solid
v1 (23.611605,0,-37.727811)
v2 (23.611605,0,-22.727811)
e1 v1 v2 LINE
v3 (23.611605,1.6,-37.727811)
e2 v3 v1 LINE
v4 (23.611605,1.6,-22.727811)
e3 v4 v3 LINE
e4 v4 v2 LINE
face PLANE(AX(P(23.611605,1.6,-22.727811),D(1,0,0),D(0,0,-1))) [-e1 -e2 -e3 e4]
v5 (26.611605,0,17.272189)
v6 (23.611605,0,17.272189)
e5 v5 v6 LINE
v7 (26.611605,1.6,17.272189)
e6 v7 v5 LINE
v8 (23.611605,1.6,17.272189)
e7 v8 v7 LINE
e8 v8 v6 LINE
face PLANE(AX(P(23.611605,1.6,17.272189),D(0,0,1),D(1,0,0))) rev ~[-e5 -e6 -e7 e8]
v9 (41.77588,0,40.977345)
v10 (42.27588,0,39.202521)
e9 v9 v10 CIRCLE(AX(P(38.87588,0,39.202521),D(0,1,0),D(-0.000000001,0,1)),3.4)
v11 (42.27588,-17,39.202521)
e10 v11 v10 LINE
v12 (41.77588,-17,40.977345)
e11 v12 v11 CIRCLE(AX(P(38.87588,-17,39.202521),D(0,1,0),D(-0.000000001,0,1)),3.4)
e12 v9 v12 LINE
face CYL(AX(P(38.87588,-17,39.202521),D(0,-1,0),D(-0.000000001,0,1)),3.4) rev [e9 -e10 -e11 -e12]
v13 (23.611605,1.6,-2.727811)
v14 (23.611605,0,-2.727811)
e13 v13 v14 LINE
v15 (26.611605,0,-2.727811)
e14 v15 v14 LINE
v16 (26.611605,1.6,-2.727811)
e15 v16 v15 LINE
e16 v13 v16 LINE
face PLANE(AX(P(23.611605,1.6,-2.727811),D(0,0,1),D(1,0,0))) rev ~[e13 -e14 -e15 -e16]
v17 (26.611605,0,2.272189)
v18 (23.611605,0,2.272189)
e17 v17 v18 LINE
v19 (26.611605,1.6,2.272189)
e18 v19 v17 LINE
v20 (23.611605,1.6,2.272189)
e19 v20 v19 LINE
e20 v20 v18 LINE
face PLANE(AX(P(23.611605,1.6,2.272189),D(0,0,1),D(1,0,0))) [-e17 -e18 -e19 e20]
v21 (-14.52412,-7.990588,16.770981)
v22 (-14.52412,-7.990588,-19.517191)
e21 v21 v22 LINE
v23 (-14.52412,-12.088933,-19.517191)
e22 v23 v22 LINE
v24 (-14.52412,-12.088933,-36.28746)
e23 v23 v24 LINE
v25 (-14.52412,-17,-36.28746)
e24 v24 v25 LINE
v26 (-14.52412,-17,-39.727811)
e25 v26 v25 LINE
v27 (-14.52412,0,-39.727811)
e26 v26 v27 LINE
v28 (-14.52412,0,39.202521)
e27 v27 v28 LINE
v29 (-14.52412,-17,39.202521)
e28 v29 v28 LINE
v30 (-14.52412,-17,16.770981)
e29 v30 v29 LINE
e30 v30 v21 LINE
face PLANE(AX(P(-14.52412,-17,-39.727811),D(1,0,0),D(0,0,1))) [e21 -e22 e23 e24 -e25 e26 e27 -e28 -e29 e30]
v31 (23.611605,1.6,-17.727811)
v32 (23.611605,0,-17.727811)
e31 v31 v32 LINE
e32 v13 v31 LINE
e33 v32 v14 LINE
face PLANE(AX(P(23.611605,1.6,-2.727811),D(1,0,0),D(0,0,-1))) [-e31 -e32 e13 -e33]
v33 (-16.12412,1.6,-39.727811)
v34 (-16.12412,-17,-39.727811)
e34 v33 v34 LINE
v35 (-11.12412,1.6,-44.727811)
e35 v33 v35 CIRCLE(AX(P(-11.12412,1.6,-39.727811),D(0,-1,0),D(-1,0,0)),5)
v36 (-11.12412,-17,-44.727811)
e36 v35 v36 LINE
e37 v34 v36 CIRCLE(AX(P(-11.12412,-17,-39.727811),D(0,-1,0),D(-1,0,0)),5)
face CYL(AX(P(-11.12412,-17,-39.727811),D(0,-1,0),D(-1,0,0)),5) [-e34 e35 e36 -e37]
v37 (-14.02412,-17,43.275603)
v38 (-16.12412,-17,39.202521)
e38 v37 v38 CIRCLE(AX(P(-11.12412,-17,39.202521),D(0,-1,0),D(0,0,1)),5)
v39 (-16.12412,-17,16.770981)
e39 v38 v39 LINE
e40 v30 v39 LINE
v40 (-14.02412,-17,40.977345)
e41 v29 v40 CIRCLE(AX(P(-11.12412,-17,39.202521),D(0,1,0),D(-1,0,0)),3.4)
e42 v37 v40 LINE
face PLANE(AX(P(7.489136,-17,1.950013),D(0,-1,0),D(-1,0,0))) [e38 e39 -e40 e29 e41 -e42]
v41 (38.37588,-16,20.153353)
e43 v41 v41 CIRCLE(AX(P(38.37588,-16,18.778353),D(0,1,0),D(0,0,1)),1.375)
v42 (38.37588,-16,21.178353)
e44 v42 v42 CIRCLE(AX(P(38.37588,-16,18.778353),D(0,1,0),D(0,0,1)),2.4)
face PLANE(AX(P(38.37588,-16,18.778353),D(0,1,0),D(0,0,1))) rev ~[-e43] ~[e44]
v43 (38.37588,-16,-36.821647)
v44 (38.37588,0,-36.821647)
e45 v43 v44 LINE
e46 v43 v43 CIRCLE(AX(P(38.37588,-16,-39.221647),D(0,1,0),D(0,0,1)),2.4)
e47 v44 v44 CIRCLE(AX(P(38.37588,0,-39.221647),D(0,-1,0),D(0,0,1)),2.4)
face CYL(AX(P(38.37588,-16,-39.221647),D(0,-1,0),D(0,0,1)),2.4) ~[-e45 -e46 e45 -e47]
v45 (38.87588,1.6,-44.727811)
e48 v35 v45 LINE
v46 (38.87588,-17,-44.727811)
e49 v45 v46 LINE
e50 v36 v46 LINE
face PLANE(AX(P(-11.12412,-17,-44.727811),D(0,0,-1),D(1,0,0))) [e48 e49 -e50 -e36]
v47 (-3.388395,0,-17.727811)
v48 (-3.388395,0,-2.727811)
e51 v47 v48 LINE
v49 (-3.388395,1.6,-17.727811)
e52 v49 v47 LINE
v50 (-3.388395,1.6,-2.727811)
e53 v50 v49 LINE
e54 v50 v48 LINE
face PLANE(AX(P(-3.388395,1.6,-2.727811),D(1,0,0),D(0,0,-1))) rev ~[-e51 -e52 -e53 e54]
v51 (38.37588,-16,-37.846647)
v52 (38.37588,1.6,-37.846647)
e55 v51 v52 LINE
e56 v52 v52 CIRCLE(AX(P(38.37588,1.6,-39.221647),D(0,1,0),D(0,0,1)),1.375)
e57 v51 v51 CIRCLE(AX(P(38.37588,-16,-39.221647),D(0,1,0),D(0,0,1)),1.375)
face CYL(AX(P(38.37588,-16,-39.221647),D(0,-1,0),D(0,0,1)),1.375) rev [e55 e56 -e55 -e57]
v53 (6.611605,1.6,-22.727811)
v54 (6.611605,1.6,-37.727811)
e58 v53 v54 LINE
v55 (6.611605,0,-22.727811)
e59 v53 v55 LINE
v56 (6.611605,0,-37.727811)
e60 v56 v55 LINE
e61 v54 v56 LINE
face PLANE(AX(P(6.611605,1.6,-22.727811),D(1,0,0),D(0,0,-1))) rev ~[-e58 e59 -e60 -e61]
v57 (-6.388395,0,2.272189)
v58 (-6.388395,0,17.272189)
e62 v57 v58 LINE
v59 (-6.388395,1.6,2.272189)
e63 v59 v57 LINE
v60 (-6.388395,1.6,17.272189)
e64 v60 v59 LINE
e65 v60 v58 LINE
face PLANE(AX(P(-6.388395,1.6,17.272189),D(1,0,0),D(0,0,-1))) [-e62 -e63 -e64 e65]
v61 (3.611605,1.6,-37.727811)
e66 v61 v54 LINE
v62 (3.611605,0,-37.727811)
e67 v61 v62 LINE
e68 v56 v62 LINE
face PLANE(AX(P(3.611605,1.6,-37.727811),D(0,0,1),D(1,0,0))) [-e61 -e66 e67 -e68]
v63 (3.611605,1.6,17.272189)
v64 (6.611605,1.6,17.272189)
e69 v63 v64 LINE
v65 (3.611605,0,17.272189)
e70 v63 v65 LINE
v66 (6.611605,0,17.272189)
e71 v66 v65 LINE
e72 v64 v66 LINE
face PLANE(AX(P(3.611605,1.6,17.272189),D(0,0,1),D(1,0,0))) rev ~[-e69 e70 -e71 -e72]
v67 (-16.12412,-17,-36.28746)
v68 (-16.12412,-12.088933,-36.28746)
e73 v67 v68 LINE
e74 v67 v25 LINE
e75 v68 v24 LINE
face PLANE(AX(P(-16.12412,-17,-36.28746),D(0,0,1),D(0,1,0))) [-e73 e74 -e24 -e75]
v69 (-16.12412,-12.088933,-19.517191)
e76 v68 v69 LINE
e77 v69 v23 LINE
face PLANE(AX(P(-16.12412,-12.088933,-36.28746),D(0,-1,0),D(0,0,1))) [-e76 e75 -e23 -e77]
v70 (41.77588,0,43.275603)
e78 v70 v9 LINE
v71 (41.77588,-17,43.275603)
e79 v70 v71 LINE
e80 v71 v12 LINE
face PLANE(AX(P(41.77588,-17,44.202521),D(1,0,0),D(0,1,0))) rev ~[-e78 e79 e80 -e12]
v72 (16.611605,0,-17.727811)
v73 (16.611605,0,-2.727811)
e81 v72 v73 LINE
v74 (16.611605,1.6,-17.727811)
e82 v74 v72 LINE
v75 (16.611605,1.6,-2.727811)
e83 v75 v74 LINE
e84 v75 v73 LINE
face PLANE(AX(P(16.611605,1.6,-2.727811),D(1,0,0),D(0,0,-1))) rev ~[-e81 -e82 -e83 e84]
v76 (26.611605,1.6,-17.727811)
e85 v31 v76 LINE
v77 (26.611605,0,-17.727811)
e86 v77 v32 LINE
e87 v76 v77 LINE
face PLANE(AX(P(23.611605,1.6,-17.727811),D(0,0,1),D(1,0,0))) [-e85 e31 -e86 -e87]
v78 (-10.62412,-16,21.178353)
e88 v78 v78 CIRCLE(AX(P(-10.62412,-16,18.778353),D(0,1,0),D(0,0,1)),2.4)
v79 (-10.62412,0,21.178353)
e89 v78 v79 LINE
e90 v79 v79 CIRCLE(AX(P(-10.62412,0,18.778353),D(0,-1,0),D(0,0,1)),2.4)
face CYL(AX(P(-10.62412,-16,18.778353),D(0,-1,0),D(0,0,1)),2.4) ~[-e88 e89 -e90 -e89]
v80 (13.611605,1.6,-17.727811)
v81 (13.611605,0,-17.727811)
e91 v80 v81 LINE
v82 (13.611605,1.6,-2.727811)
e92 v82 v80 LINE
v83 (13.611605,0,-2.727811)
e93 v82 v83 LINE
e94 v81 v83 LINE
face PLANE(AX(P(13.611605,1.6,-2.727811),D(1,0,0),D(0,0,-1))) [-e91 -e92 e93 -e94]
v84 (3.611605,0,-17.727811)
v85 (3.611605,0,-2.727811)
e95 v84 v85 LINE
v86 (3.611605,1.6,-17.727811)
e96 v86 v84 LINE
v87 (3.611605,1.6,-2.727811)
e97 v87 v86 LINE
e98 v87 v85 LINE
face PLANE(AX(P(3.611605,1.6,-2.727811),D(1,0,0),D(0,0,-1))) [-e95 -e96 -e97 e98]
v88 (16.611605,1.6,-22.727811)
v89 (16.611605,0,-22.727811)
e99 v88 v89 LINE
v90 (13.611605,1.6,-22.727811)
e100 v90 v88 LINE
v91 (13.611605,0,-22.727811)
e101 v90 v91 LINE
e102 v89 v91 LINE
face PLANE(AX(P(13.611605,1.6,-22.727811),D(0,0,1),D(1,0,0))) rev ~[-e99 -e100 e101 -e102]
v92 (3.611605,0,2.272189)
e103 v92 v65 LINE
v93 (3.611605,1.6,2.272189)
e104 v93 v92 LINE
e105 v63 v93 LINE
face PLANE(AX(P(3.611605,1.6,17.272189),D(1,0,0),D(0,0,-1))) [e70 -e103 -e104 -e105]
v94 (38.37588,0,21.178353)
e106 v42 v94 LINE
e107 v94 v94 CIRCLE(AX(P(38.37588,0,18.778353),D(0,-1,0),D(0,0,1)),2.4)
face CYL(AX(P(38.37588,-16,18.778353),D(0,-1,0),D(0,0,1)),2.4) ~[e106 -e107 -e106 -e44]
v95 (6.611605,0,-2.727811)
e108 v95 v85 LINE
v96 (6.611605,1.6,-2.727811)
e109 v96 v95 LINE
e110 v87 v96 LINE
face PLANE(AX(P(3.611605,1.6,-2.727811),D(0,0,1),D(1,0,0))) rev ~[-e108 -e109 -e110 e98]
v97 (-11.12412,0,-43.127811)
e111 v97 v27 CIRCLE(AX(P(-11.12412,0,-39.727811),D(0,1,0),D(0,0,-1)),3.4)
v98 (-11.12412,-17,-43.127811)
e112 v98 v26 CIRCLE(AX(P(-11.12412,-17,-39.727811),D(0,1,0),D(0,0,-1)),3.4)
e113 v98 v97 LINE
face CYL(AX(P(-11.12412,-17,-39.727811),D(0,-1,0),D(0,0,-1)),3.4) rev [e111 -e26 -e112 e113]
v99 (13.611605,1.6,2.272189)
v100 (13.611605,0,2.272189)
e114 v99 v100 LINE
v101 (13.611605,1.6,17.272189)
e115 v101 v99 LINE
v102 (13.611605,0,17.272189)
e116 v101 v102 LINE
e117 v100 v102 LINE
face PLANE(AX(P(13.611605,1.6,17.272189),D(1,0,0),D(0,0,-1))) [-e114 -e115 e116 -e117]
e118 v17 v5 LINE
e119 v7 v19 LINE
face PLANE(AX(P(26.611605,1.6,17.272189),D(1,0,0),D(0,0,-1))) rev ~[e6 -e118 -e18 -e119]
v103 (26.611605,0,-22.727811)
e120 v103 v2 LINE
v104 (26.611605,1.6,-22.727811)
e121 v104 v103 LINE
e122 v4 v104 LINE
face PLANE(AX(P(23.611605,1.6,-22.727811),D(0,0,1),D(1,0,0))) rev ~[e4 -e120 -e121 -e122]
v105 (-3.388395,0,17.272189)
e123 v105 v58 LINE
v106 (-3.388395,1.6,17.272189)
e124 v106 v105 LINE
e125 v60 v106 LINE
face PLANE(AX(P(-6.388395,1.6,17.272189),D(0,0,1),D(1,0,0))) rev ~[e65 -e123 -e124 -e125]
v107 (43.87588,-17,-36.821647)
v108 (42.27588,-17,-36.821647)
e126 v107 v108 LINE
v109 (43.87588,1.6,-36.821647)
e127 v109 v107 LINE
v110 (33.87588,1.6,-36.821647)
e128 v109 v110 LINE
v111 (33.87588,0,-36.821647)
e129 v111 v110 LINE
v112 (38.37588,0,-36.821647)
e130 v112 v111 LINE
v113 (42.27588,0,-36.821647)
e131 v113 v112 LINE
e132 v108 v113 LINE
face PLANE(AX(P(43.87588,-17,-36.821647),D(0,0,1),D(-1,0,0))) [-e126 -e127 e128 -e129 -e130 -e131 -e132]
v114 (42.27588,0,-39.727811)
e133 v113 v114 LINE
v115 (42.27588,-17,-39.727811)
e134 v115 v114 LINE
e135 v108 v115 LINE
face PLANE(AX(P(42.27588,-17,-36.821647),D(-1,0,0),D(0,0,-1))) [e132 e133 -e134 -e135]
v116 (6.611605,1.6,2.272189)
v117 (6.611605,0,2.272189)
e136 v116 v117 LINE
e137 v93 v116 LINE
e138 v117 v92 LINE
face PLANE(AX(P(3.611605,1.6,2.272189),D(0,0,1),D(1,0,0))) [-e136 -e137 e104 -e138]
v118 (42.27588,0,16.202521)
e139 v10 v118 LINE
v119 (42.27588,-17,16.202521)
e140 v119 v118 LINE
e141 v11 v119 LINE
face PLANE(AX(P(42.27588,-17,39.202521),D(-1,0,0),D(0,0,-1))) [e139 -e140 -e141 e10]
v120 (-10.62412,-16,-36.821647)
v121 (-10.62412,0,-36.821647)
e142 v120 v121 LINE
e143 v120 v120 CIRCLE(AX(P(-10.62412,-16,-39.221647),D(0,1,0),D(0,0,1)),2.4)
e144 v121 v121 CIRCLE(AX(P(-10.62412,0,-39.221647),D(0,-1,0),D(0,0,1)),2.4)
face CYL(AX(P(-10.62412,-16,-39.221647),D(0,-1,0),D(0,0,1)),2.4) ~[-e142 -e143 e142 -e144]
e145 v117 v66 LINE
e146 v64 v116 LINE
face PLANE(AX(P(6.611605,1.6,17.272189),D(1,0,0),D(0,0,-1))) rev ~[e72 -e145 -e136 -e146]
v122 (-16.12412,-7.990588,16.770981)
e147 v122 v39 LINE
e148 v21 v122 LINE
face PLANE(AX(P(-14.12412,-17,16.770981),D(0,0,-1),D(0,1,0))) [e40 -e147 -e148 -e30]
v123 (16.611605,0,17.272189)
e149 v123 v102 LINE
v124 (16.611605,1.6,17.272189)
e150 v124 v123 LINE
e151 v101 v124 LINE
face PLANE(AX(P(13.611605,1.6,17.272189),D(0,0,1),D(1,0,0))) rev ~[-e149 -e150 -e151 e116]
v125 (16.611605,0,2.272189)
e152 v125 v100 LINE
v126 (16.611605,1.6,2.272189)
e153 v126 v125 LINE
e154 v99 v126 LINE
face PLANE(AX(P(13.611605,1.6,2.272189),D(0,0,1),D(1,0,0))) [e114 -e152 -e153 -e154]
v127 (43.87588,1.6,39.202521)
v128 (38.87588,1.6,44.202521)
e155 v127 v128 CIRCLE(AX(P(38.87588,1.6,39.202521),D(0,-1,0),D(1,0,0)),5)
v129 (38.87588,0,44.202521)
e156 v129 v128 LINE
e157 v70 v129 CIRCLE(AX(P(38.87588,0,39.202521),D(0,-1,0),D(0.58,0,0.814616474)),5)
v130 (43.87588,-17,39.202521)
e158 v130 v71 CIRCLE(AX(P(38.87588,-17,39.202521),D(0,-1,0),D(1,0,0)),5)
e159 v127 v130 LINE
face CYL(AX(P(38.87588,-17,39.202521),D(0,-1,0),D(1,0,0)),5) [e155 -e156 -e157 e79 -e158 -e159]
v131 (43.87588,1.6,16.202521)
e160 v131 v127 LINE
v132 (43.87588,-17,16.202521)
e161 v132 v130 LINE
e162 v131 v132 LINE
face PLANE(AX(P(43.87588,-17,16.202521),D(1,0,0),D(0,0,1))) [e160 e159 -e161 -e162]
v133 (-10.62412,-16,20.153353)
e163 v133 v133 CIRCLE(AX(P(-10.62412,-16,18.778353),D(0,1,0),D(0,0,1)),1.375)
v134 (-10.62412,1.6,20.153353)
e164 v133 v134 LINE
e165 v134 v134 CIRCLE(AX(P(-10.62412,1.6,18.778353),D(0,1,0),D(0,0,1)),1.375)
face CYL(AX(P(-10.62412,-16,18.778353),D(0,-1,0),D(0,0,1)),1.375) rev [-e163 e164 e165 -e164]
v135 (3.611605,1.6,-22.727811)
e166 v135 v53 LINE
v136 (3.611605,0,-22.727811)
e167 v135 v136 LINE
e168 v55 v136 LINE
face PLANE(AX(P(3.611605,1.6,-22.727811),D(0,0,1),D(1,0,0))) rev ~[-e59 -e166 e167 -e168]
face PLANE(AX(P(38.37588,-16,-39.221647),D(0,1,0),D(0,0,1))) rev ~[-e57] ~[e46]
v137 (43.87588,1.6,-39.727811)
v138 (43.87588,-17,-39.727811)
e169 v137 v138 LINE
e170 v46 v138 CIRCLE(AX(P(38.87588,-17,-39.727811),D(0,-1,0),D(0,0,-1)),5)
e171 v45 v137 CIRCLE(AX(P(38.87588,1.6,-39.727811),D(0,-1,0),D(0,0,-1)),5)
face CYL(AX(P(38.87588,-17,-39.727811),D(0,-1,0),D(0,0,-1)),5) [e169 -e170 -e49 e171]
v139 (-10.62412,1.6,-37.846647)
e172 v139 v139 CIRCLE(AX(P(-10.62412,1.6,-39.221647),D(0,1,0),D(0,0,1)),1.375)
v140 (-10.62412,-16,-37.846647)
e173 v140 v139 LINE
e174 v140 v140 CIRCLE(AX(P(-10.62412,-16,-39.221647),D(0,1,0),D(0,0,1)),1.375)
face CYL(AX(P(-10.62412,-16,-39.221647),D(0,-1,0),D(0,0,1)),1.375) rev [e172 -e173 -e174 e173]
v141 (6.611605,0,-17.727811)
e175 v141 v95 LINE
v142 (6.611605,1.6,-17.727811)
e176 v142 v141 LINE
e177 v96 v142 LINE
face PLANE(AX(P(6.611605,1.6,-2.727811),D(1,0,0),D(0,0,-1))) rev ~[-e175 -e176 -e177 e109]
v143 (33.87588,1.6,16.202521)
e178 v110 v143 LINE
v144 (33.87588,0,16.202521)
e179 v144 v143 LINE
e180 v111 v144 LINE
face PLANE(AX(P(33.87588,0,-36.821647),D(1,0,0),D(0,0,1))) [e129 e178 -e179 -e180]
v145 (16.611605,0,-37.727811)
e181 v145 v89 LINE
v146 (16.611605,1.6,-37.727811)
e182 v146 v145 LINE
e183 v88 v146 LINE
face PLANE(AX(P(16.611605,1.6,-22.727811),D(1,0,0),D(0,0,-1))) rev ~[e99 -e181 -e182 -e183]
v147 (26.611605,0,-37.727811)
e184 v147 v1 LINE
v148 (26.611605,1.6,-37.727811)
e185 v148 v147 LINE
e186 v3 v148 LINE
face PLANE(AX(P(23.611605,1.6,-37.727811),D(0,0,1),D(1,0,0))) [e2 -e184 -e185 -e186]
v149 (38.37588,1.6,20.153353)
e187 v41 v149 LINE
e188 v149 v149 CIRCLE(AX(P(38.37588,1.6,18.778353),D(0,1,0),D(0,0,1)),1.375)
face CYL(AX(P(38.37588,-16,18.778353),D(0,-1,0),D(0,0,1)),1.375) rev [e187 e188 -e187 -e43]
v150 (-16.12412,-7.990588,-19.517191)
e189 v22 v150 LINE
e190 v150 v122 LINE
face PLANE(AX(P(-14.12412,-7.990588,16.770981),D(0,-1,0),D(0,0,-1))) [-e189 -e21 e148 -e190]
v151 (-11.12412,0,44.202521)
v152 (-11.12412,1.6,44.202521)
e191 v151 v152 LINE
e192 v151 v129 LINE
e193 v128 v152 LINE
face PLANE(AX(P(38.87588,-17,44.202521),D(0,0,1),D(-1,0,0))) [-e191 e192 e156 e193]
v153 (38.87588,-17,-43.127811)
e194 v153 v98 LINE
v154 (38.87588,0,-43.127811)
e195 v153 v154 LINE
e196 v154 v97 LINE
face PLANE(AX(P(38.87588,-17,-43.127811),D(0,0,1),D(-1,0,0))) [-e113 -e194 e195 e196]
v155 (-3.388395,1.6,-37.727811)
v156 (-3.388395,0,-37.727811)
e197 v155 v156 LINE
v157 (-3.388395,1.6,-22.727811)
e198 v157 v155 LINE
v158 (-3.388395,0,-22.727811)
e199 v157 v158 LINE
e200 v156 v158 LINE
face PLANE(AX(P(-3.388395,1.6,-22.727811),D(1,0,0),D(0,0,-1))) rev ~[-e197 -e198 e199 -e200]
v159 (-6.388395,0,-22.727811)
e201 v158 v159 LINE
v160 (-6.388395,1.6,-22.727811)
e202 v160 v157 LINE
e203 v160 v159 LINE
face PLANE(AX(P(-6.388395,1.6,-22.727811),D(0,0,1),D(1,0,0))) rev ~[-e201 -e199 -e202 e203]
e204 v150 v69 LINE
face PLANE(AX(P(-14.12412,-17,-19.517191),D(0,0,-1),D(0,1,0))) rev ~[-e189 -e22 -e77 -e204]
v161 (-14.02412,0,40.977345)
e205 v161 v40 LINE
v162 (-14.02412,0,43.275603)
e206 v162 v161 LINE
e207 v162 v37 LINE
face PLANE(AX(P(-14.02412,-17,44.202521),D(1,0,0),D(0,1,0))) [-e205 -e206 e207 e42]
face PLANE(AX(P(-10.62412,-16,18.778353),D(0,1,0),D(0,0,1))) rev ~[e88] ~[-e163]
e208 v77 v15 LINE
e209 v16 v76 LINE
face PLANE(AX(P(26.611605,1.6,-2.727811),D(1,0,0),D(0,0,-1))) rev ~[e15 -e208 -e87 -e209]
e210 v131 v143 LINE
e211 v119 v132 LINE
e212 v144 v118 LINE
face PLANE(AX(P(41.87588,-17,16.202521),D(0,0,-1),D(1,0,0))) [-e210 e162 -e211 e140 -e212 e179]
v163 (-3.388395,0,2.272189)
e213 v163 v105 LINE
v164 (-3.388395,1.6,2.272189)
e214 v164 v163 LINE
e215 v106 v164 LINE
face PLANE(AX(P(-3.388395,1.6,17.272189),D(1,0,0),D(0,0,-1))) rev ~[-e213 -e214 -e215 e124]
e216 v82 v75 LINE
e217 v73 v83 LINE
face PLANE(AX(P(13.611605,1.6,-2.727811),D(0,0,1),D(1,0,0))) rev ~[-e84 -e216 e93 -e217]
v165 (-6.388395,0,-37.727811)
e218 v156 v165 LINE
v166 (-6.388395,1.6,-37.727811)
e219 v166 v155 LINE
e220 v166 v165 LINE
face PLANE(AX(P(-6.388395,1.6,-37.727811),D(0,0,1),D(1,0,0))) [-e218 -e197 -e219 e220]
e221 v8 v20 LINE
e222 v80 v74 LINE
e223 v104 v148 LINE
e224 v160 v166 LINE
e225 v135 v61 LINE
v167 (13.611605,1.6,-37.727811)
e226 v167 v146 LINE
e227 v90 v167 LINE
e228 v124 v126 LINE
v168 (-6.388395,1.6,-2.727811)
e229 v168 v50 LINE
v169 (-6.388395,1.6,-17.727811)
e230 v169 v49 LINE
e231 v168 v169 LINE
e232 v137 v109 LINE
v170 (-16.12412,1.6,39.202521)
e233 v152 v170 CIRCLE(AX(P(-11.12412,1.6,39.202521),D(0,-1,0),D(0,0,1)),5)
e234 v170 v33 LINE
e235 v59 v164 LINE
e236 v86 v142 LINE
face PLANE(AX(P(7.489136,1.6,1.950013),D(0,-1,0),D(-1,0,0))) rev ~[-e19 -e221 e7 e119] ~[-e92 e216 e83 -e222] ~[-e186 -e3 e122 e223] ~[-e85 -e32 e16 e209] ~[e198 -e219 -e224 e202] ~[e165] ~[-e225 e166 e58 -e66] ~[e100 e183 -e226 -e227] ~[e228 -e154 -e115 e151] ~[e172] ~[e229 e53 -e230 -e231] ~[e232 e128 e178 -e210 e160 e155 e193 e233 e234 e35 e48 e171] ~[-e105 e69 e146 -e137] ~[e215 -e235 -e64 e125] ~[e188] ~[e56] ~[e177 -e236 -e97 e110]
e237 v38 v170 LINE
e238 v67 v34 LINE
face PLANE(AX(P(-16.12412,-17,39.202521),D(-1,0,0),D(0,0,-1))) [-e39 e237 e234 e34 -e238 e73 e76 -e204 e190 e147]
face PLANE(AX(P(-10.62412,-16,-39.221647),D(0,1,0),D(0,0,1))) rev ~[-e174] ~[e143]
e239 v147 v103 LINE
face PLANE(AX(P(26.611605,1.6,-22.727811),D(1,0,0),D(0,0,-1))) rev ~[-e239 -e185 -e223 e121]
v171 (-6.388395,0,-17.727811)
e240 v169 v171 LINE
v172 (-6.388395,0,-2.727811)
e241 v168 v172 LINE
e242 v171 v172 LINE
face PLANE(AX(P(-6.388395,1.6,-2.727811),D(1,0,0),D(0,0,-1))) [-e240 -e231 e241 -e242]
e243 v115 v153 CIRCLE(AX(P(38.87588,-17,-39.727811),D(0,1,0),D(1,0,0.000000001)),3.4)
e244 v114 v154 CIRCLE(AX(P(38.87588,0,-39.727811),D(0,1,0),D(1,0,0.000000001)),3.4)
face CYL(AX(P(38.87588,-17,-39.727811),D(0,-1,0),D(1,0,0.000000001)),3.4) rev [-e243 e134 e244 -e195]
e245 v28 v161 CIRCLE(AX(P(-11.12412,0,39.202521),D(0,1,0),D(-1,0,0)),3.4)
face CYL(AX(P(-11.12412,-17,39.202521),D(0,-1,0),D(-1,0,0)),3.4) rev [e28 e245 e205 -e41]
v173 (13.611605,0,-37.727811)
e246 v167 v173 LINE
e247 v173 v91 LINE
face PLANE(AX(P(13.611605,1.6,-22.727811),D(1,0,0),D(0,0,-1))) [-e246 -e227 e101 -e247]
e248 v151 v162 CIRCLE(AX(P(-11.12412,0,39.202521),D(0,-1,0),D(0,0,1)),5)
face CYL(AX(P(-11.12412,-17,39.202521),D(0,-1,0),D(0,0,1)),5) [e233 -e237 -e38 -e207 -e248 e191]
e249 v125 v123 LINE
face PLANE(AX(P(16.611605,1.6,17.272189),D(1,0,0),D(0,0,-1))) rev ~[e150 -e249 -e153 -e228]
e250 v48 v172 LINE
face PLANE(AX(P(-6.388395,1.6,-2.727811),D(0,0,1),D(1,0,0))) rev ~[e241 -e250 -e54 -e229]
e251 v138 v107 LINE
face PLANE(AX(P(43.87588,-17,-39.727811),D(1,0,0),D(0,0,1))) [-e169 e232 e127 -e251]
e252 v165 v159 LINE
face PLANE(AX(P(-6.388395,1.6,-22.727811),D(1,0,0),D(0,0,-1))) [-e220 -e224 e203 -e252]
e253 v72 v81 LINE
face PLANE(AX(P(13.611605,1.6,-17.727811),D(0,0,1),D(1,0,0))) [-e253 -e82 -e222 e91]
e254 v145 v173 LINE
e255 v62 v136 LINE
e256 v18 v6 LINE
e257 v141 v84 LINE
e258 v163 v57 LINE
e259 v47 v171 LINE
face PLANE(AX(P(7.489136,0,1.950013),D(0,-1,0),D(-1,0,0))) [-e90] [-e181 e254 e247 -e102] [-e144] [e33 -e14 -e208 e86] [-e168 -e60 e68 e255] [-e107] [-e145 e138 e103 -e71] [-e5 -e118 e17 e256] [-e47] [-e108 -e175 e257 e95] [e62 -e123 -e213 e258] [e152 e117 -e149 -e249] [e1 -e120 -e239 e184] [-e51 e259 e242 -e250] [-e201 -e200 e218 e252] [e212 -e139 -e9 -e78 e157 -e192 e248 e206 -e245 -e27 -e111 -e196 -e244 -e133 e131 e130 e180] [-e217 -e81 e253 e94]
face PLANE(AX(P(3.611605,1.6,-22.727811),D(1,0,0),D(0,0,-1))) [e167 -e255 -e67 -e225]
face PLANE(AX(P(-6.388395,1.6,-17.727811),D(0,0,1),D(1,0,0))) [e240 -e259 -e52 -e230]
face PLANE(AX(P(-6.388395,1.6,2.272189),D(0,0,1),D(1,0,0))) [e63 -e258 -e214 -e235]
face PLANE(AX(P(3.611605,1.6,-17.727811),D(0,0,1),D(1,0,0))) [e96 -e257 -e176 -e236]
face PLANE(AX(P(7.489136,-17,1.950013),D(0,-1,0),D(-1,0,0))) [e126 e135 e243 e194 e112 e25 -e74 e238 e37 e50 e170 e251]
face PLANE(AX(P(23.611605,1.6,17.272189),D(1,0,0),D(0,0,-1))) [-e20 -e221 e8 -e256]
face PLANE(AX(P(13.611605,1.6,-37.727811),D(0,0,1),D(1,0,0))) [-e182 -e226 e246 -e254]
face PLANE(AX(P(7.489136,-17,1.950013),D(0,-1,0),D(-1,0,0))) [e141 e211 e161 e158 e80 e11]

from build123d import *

# Parameters (mm, degrees)
SKETCH1_R           = 1.375
BOSS_EXTRUDE1_DEPTH = 1.6
BOSS_EXTRUDE2_START = -17
BOSS_EXTRUDE2_DEPTH = 17
BOSS_EXTRUDE3_START = -17.6
SKETCH2_R           = 2.4
SKETCH2_R_2         = 1.375
BOSS_EXTRUDE3_DEPTH = 17.6
SKETCH3_W           = 36.288172123
SKETCH3_H           = 9.00941151
CUT_EXTRUDE1_DEPTH  = 10
SKETCH5_W           = 16.770268593
SKETCH5_H           = 4.911067329
CUT_EXTRUDE2_DEPTH  = 10
SKETCH7_W           = 55
SKETCH7_H           = 17
CUT_EXTRUDE3_DEPTH  = 10
SKETCH9_W           = 3
SKETCH9_H           = 15
CUT_EXTRUDE4_DEPTH  = 10
MOVE_FACE1_BY       = 0.4
MOVE_FACE1_2_BY     = 0.4
MOVE_FACE1_3_BY     = 0.4
MOVE_FACE1_4_BY     = 0.4
MOVE_FACE1_5_BY     = 0.4
MOVE_FACE1_6_BY     = 0.4
MOVE_FACE1_7_BY     = 0.4
MOVE_FACE1_8_BY     = 0.4
MOVE_FACE1_9_BY     = 0.4
MOVE_FACE1_10_BY    = 0.4


with BuildPart() as part:
    # Sketch1 → Boss-Extrude1 (new body)
    # profile 1 of 2: a face of its own
    with BuildSketch(Plane(origin=(0, 0, 0), x_dir=(1, 0, 0), z_dir=(0, 1, 0))):
        with BuildLine():
            Line((-11.124120265, 42.72781091), (38.875879735, 42.72781091))
            ThreePointArc((38.875879735, 42.72781091), (40.997200079, 41.849131254), (41.875879735, 39.72781091))
            Line((41.875879735, 39.72781091), (41.875879735, 36.821646567))
            Line((41.875879735, 36.821646567), (33.875879735, 36.821646567))
            Line((33.875879735, 36.821646567), (33.875879735, -16.202520779))
            Line((33.875879735, -16.202520779), (41.875879735, -16.202520779))
            Line((41.875879735, -16.202520779), (41.875879735, -39.202520779))
            ThreePointArc((41.875879735, -39.202520779), (40.997200079, -41.323841123), (38.875879735, -42.202520779))
            Line((38.875879735, -42.202520779), (-11.124120265, -42.202520779))
            ThreePointArc((-11.124120265, -42.202520779), (-13.245440608, -41.323841123), (-14.124120265, -39.202520779))
            Line((-14.124120265, -39.202520779), (-14.124120265, 39.72781091))
            ThreePointArc((-14.124120265, 39.72781091), (-13.245440608, 41.849131254), (-11.124120265, 42.72781091))
        make_face()
        with Locations(Location((-10.624120265, -18.778353433, 0), (0, 0, 270))):
            Circle(SKETCH1_R, mode=Mode.SUBTRACT)
        with Locations(Location((-10.624120265, 39.221646567, 0), (0, 0, 270))):
            Circle(SKETCH1_R, mode=Mode.SUBTRACT)
        with Locations(Location((38.375879735, 39.221646567, 0), (0, 0, 270))):
            Circle(SKETCH1_R, mode=Mode.SUBTRACT)
        with Locations(Location((38.375879735, -18.778353433, 0), (0, 0, 270))):
            Circle(SKETCH1_R, mode=Mode.SUBTRACT)
    # profile 2 of 2: a face of its own
    with BuildSketch(Plane(origin=(0, 0, 0), x_dir=(1, 0, 0), z_dir=(0, 1, 0))):
        with BuildLine():
            Line((-16.124120265, -39.202520779), (-16.124120265, 39.72781091))
            ThreePointArc((-16.124120265, 39.72781091), (-14.65965417, 43.263344816), (-11.124120265, 44.72781091))
            Line((-11.124120265, 44.72781091), (38.875879735, 44.72781091))
            ThreePointArc((38.875879735, 44.72781091), (42.411413641, 43.263344816), (43.875879735, 39.72781091))
            Line((43.875879735, 39.72781091), (43.875879735, 36.821646567))
            Line((43.875879735, 36.821646567), (41.875879735, 36.821646567))
            Line((41.875879735, 36.821646567), (41.875879735, 39.72781091))
            ThreePointArc((41.875879735, 39.72781091), (40.997200079, 41.849131254), (38.875879735, 42.72781091))
            Line((38.875879735, 42.72781091), (-11.124120265, 42.72781091))
            ThreePointArc((-11.124120265, 42.72781091), (-13.245440608, 41.849131254), (-14.124120265, 39.72781091))
            Line((-14.124120265, 39.72781091), (-14.124120265, -39.202520779))
            ThreePointArc((-14.124120265, -39.202520779), (-13.245440608, -41.323841123), (-11.124120265, -42.202520779))
            Line((-11.124120265, -42.202520779), (38.875879735, -42.202520779))
            ThreePointArc((38.875879735, -42.202520779), (40.997200079, -41.323841123), (41.875879735, -39.202520779))
            Line((41.875879735, -39.202520779), (41.875879735, -16.202520779))
            Line((41.875879735, -16.202520779), (43.875879735, -16.202520779))
            Line((43.875879735, -16.202520779), (43.875879735, -39.202520779))
            ThreePointArc((43.875879735, -39.202520779), (42.411413641, -42.738054685), (38.875879735, -44.202520779))
            Line((38.875879735, -44.202520779), (-11.124120265, -44.202520779))
            ThreePointArc((-11.124120265, -44.202520779), (-14.65965417, -42.738054685), (-16.124120265, -39.202520779))
        make_face()
    extrude(amount=BOSS_EXTRUDE1_DEPTH)

    # Sketch1<3> → Boss-Extrude2 (add)
    with BuildSketch(Plane(origin=(0, 0, 0), x_dir=(1, 0, 0), z_dir=(0, 1, 0)).offset(BOSS_EXTRUDE2_START)):
        with BuildLine():
            Line((-16.124120265, -39.202520779), (-16.124120265, 39.72781091))
            ThreePointArc((-16.124120265, 39.72781091), (-14.65965417, 43.263344816), (-11.124120265, 44.72781091))
            Line((-11.124120265, 44.72781091), (38.875879735, 44.72781091))
            ThreePointArc((38.875879735, 44.72781091), (42.411413641, 43.263344816), (43.875879735, 39.72781091))
            Line((43.875879735, 39.72781091), (43.875879735, 36.821646567))
            Line((43.875879735, 36.821646567), (41.875879735, 36.821646567))
            Line((41.875879735, 36.821646567), (41.875879735, 39.72781091))
            ThreePointArc((41.875879735, 39.72781091), (40.997200079, 41.849131254), (38.875879735, 42.72781091))
            Line((38.875879735, 42.72781091), (-11.124120265, 42.72781091))
            ThreePointArc((-11.124120265, 42.72781091), (-13.245440608, 41.849131254), (-14.124120265, 39.72781091))
            Line((-14.124120265, 39.72781091), (-14.124120265, -39.202520779))
            ThreePointArc((-14.124120265, -39.202520779), (-13.245440608, -41.323841123), (-11.124120265, -42.202520779))
            Line((-11.124120265, -42.202520779), (38.875879735, -42.202520779))
            ThreePointArc((38.875879735, -42.202520779), (40.997200079, -41.323841123), (41.875879735, -39.202520779))
            Line((41.875879735, -39.202520779), (41.875879735, -16.202520779))
            Line((41.875879735, -16.202520779), (43.875879735, -16.202520779))
            Line((43.875879735, -16.202520779), (43.875879735, -39.202520779))
            ThreePointArc((43.875879735, -39.202520779), (42.411413641, -42.738054685), (38.875879735, -44.202520779))
            Line((38.875879735, -44.202520779), (-11.124120265, -44.202520779))
            ThreePointArc((-11.124120265, -44.202520779), (-14.65965417, -42.738054685), (-16.124120265, -39.202520779))
        make_face()
    extrude(amount=BOSS_EXTRUDE2_DEPTH)

    # Sketch2 → Boss-Extrude3 (add)
    # profile 1 of 4: a face of its own
    with BuildSketch(Plane(origin=(0, 1.6, 0), x_dir=(1, 0, 0), z_dir=(0, 1, 0)).offset(BOSS_EXTRUDE3_START)):
        with Locations(Location((38.375879735, 39.221646567, 0), (0, 0, 270))):
            Circle(SKETCH2_R)
        with Locations(Location((38.375879735, 39.221646567, 0), (0, 0, 270))):
            Circle(SKETCH2_R_2, mode=Mode.SUBTRACT)
    # profile 2 of 4: a face of its own
    with BuildSketch(Plane(origin=(0, 1.6, 0), x_dir=(1, 0, 0), z_dir=(0, 1, 0)).offset(BOSS_EXTRUDE3_START)):
        with Locations(Location((38.375879735, -18.778353433, 0), (0, 0, 270))):
            Circle(SKETCH2_R)
        with Locations(Location((38.375879735, -18.778353433, 0), (0, 0, 270))):
            Circle(SKETCH2_R_2, mode=Mode.SUBTRACT)
    # profile 3 of 4: a face of its own
    with BuildSketch(Plane(origin=(0, 1.6, 0), x_dir=(1, 0, 0), z_dir=(0, 1, 0)).offset(BOSS_EXTRUDE3_START)):
        with Locations(Location((-10.624120265, -18.778353433, 0), (0, 0, 270))):
            Circle(SKETCH2_R)
        with Locations(Location((-10.624120265, -18.778353433, 0), (0, 0, 270))):
            Circle(SKETCH2_R_2, mode=Mode.SUBTRACT)
    # profile 4 of 4: a face of its own
    with BuildSketch(Plane(origin=(0, 1.6, 0), x_dir=(1, 0, 0), z_dir=(0, 1, 0)).offset(BOSS_EXTRUDE3_START)):
        with Locations(Location((-10.624120265, 39.221646567, 0), (0, 0, 270))):
            Circle(SKETCH2_R)
        with Locations(Location((-10.624120265, 39.221646567, 0), (0, 0, 270))):
            Circle(SKETCH2_R_2, mode=Mode.SUBTRACT)
    extrude(amount=BOSS_EXTRUDE3_DEPTH)

    # Sketch3 → Cut-Extrude1 (cut)
    with BuildSketch(Plane(origin=(-14.124120265, 0, 0), x_dir=(0, 0, -1), z_dir=(1, 0, 0))):
        with Locations((1.373104953, -12.495294245)):
            Rectangle(SKETCH3_W, SKETCH3_H)
    extrude(amount=-CUT_EXTRUDE1_DEPTH, mode=Mode.SUBTRACT)

    # Sketch5 → Cut-Extrude2 (cut)
    with BuildSketch(Plane.ZY.offset(16.124120265)):
        with Locations((-27.902325311, -14.544466336)):
            Rectangle(SKETCH5_W, SKETCH5_H)
    extrude(amount=-CUT_EXTRUDE2_DEPTH, mode=Mode.SUBTRACT)

    # Sketch7 → Cut-Extrude3 (cut)
    with BuildSketch(Plane.XY.offset(44.202520779)):
        with Locations((13.875879735, -8.5)):
            Rectangle(SKETCH7_W, SKETCH7_H)
    extrude(amount=-CUT_EXTRUDE3_DEPTH, mode=Mode.SUBTRACT)

    # Sketch9 → Cut-Extrude4 (cut)
    with BuildSketch(Plane(origin=(0, 1.6, 0), x_dir=(1, 0, 0), z_dir=(0, 1, 0))):
        with Locations((-4.888394882, 30.22781091)):
            Rectangle(SKETCH9_W, SKETCH9_H)
        with Locations((5.111605118, 30.22781091)):
            Rectangle(SKETCH9_W, SKETCH9_H)
        with Locations((15.111605118, 30.22781091)):
            Rectangle(SKETCH9_W, SKETCH9_H)
        with Locations((25.111605118, 30.22781091)):
            Rectangle(SKETCH9_W, SKETCH9_H)
        with Locations((5.111605118, 10.22781091)):
            Rectangle(SKETCH9_W, SKETCH9_H)
        with Locations((15.111605118, 10.22781091)):
            Rectangle(SKETCH9_W, SKETCH9_H)
        with Locations((25.111605118, 10.22781091)):
            Rectangle(SKETCH9_W, SKETCH9_H)
        with Locations((5.111605118, -9.77218909)):
            Rectangle(SKETCH9_W, SKETCH9_H)
        with Locations((15.111605118, -9.77218909)):
            Rectangle(SKETCH9_W, SKETCH9_H)
        with Locations((25.111605118, -9.77218909)):
            Rectangle(SKETCH9_W, SKETCH9_H)
        with Locations((-4.888394882, 10.22781091)):
            Rectangle(SKETCH9_W, SKETCH9_H)
        with Locations((-4.888394882, -9.77218909)):
            Rectangle(SKETCH9_W, SKETCH9_H)
    extrude(amount=-CUT_EXTRUDE4_DEPTH, mode=Mode.SUBTRACT)

    # Move Face1: a face moved inward by 0.4
    extrude(part.faces().sort_by_distance((41.375879735, -8.5, 42.196740487))[0], amount=MOVE_FACE1_BY, dir=(1, 0, 0), mode=Mode.SUBTRACT)

    # Move Face1 2: a curved face moved inward by 0.4
    add(Solid.thicken(part.faces().sort_by_distance((41.748161059, -8.5, 40.068546183))[0], -MOVE_FACE1_2_BY), mode=Mode.SUBTRACT)

    # Move Face1 3: a face moved inward by 0.4
    extrude(part.faces().sort_by_distance((41.875879735, -8.5, 27.702520779))[0], amount=MOVE_FACE1_3_BY, dir=(1, 0, 0), mode=Mode.SUBTRACT)

    # Move Face1 4: a face moved inward by 0.4
    extrude(part.faces().sort_by_distance((-13.624120265, -8.5, 42.196740487))[0], amount=MOVE_FACE1_4_BY, dir=(-1, 0, 0), mode=Mode.SUBTRACT)

    # Move Face1 5: a curved face moved inward by 0.4
    add(Solid.thicken(part.faces().sort_by_distance((-13.996401588, -8.5, 40.068546183))[0], -MOVE_FACE1_5_BY), mode=Mode.SUBTRACT)

    # Move Face1 6: a face moved inward by 0.4
    extrude(part.faces().sort_by_distance((-14.124120265, -6.565433094, 2.567801751))[0], amount=MOVE_FACE1_6_BY, dir=(-1, 0, 0), mode=Mode.SUBTRACT)

    # Move Face1 7: a curved face moved inward by 0.4
    add(Solid.thicken(part.faces().sort_by_distance((-13.245440608, -8.5, -41.849131254))[0], -MOVE_FACE1_7_BY), mode=Mode.SUBTRACT)

    # Move Face1 8: a face moved inward by 0.4
    extrude(part.faces().sort_by_distance((41.875879735, -8.5, -38.274728738))[0], amount=MOVE_FACE1_8_BY, dir=(1, 0, 0), mode=Mode.SUBTRACT)

    # Move Face1 9: a curved face moved inward by 0.4
    add(Solid.thicken(part.faces().sort_by_distance((40.997200079, -8.5, -41.849131254))[0], -MOVE_FACE1_9_BY), mode=Mode.SUBTRACT)

    # Move Face1 10: a face moved inward by 0.4
    extrude(part.faces().sort_by_distance((13.875879735, -8.5, -42.72781091))[0], amount=MOVE_FACE1_10_BY, dir=(0, 0, -1), mode=Mode.SUBTRACT)


solid = part.part
